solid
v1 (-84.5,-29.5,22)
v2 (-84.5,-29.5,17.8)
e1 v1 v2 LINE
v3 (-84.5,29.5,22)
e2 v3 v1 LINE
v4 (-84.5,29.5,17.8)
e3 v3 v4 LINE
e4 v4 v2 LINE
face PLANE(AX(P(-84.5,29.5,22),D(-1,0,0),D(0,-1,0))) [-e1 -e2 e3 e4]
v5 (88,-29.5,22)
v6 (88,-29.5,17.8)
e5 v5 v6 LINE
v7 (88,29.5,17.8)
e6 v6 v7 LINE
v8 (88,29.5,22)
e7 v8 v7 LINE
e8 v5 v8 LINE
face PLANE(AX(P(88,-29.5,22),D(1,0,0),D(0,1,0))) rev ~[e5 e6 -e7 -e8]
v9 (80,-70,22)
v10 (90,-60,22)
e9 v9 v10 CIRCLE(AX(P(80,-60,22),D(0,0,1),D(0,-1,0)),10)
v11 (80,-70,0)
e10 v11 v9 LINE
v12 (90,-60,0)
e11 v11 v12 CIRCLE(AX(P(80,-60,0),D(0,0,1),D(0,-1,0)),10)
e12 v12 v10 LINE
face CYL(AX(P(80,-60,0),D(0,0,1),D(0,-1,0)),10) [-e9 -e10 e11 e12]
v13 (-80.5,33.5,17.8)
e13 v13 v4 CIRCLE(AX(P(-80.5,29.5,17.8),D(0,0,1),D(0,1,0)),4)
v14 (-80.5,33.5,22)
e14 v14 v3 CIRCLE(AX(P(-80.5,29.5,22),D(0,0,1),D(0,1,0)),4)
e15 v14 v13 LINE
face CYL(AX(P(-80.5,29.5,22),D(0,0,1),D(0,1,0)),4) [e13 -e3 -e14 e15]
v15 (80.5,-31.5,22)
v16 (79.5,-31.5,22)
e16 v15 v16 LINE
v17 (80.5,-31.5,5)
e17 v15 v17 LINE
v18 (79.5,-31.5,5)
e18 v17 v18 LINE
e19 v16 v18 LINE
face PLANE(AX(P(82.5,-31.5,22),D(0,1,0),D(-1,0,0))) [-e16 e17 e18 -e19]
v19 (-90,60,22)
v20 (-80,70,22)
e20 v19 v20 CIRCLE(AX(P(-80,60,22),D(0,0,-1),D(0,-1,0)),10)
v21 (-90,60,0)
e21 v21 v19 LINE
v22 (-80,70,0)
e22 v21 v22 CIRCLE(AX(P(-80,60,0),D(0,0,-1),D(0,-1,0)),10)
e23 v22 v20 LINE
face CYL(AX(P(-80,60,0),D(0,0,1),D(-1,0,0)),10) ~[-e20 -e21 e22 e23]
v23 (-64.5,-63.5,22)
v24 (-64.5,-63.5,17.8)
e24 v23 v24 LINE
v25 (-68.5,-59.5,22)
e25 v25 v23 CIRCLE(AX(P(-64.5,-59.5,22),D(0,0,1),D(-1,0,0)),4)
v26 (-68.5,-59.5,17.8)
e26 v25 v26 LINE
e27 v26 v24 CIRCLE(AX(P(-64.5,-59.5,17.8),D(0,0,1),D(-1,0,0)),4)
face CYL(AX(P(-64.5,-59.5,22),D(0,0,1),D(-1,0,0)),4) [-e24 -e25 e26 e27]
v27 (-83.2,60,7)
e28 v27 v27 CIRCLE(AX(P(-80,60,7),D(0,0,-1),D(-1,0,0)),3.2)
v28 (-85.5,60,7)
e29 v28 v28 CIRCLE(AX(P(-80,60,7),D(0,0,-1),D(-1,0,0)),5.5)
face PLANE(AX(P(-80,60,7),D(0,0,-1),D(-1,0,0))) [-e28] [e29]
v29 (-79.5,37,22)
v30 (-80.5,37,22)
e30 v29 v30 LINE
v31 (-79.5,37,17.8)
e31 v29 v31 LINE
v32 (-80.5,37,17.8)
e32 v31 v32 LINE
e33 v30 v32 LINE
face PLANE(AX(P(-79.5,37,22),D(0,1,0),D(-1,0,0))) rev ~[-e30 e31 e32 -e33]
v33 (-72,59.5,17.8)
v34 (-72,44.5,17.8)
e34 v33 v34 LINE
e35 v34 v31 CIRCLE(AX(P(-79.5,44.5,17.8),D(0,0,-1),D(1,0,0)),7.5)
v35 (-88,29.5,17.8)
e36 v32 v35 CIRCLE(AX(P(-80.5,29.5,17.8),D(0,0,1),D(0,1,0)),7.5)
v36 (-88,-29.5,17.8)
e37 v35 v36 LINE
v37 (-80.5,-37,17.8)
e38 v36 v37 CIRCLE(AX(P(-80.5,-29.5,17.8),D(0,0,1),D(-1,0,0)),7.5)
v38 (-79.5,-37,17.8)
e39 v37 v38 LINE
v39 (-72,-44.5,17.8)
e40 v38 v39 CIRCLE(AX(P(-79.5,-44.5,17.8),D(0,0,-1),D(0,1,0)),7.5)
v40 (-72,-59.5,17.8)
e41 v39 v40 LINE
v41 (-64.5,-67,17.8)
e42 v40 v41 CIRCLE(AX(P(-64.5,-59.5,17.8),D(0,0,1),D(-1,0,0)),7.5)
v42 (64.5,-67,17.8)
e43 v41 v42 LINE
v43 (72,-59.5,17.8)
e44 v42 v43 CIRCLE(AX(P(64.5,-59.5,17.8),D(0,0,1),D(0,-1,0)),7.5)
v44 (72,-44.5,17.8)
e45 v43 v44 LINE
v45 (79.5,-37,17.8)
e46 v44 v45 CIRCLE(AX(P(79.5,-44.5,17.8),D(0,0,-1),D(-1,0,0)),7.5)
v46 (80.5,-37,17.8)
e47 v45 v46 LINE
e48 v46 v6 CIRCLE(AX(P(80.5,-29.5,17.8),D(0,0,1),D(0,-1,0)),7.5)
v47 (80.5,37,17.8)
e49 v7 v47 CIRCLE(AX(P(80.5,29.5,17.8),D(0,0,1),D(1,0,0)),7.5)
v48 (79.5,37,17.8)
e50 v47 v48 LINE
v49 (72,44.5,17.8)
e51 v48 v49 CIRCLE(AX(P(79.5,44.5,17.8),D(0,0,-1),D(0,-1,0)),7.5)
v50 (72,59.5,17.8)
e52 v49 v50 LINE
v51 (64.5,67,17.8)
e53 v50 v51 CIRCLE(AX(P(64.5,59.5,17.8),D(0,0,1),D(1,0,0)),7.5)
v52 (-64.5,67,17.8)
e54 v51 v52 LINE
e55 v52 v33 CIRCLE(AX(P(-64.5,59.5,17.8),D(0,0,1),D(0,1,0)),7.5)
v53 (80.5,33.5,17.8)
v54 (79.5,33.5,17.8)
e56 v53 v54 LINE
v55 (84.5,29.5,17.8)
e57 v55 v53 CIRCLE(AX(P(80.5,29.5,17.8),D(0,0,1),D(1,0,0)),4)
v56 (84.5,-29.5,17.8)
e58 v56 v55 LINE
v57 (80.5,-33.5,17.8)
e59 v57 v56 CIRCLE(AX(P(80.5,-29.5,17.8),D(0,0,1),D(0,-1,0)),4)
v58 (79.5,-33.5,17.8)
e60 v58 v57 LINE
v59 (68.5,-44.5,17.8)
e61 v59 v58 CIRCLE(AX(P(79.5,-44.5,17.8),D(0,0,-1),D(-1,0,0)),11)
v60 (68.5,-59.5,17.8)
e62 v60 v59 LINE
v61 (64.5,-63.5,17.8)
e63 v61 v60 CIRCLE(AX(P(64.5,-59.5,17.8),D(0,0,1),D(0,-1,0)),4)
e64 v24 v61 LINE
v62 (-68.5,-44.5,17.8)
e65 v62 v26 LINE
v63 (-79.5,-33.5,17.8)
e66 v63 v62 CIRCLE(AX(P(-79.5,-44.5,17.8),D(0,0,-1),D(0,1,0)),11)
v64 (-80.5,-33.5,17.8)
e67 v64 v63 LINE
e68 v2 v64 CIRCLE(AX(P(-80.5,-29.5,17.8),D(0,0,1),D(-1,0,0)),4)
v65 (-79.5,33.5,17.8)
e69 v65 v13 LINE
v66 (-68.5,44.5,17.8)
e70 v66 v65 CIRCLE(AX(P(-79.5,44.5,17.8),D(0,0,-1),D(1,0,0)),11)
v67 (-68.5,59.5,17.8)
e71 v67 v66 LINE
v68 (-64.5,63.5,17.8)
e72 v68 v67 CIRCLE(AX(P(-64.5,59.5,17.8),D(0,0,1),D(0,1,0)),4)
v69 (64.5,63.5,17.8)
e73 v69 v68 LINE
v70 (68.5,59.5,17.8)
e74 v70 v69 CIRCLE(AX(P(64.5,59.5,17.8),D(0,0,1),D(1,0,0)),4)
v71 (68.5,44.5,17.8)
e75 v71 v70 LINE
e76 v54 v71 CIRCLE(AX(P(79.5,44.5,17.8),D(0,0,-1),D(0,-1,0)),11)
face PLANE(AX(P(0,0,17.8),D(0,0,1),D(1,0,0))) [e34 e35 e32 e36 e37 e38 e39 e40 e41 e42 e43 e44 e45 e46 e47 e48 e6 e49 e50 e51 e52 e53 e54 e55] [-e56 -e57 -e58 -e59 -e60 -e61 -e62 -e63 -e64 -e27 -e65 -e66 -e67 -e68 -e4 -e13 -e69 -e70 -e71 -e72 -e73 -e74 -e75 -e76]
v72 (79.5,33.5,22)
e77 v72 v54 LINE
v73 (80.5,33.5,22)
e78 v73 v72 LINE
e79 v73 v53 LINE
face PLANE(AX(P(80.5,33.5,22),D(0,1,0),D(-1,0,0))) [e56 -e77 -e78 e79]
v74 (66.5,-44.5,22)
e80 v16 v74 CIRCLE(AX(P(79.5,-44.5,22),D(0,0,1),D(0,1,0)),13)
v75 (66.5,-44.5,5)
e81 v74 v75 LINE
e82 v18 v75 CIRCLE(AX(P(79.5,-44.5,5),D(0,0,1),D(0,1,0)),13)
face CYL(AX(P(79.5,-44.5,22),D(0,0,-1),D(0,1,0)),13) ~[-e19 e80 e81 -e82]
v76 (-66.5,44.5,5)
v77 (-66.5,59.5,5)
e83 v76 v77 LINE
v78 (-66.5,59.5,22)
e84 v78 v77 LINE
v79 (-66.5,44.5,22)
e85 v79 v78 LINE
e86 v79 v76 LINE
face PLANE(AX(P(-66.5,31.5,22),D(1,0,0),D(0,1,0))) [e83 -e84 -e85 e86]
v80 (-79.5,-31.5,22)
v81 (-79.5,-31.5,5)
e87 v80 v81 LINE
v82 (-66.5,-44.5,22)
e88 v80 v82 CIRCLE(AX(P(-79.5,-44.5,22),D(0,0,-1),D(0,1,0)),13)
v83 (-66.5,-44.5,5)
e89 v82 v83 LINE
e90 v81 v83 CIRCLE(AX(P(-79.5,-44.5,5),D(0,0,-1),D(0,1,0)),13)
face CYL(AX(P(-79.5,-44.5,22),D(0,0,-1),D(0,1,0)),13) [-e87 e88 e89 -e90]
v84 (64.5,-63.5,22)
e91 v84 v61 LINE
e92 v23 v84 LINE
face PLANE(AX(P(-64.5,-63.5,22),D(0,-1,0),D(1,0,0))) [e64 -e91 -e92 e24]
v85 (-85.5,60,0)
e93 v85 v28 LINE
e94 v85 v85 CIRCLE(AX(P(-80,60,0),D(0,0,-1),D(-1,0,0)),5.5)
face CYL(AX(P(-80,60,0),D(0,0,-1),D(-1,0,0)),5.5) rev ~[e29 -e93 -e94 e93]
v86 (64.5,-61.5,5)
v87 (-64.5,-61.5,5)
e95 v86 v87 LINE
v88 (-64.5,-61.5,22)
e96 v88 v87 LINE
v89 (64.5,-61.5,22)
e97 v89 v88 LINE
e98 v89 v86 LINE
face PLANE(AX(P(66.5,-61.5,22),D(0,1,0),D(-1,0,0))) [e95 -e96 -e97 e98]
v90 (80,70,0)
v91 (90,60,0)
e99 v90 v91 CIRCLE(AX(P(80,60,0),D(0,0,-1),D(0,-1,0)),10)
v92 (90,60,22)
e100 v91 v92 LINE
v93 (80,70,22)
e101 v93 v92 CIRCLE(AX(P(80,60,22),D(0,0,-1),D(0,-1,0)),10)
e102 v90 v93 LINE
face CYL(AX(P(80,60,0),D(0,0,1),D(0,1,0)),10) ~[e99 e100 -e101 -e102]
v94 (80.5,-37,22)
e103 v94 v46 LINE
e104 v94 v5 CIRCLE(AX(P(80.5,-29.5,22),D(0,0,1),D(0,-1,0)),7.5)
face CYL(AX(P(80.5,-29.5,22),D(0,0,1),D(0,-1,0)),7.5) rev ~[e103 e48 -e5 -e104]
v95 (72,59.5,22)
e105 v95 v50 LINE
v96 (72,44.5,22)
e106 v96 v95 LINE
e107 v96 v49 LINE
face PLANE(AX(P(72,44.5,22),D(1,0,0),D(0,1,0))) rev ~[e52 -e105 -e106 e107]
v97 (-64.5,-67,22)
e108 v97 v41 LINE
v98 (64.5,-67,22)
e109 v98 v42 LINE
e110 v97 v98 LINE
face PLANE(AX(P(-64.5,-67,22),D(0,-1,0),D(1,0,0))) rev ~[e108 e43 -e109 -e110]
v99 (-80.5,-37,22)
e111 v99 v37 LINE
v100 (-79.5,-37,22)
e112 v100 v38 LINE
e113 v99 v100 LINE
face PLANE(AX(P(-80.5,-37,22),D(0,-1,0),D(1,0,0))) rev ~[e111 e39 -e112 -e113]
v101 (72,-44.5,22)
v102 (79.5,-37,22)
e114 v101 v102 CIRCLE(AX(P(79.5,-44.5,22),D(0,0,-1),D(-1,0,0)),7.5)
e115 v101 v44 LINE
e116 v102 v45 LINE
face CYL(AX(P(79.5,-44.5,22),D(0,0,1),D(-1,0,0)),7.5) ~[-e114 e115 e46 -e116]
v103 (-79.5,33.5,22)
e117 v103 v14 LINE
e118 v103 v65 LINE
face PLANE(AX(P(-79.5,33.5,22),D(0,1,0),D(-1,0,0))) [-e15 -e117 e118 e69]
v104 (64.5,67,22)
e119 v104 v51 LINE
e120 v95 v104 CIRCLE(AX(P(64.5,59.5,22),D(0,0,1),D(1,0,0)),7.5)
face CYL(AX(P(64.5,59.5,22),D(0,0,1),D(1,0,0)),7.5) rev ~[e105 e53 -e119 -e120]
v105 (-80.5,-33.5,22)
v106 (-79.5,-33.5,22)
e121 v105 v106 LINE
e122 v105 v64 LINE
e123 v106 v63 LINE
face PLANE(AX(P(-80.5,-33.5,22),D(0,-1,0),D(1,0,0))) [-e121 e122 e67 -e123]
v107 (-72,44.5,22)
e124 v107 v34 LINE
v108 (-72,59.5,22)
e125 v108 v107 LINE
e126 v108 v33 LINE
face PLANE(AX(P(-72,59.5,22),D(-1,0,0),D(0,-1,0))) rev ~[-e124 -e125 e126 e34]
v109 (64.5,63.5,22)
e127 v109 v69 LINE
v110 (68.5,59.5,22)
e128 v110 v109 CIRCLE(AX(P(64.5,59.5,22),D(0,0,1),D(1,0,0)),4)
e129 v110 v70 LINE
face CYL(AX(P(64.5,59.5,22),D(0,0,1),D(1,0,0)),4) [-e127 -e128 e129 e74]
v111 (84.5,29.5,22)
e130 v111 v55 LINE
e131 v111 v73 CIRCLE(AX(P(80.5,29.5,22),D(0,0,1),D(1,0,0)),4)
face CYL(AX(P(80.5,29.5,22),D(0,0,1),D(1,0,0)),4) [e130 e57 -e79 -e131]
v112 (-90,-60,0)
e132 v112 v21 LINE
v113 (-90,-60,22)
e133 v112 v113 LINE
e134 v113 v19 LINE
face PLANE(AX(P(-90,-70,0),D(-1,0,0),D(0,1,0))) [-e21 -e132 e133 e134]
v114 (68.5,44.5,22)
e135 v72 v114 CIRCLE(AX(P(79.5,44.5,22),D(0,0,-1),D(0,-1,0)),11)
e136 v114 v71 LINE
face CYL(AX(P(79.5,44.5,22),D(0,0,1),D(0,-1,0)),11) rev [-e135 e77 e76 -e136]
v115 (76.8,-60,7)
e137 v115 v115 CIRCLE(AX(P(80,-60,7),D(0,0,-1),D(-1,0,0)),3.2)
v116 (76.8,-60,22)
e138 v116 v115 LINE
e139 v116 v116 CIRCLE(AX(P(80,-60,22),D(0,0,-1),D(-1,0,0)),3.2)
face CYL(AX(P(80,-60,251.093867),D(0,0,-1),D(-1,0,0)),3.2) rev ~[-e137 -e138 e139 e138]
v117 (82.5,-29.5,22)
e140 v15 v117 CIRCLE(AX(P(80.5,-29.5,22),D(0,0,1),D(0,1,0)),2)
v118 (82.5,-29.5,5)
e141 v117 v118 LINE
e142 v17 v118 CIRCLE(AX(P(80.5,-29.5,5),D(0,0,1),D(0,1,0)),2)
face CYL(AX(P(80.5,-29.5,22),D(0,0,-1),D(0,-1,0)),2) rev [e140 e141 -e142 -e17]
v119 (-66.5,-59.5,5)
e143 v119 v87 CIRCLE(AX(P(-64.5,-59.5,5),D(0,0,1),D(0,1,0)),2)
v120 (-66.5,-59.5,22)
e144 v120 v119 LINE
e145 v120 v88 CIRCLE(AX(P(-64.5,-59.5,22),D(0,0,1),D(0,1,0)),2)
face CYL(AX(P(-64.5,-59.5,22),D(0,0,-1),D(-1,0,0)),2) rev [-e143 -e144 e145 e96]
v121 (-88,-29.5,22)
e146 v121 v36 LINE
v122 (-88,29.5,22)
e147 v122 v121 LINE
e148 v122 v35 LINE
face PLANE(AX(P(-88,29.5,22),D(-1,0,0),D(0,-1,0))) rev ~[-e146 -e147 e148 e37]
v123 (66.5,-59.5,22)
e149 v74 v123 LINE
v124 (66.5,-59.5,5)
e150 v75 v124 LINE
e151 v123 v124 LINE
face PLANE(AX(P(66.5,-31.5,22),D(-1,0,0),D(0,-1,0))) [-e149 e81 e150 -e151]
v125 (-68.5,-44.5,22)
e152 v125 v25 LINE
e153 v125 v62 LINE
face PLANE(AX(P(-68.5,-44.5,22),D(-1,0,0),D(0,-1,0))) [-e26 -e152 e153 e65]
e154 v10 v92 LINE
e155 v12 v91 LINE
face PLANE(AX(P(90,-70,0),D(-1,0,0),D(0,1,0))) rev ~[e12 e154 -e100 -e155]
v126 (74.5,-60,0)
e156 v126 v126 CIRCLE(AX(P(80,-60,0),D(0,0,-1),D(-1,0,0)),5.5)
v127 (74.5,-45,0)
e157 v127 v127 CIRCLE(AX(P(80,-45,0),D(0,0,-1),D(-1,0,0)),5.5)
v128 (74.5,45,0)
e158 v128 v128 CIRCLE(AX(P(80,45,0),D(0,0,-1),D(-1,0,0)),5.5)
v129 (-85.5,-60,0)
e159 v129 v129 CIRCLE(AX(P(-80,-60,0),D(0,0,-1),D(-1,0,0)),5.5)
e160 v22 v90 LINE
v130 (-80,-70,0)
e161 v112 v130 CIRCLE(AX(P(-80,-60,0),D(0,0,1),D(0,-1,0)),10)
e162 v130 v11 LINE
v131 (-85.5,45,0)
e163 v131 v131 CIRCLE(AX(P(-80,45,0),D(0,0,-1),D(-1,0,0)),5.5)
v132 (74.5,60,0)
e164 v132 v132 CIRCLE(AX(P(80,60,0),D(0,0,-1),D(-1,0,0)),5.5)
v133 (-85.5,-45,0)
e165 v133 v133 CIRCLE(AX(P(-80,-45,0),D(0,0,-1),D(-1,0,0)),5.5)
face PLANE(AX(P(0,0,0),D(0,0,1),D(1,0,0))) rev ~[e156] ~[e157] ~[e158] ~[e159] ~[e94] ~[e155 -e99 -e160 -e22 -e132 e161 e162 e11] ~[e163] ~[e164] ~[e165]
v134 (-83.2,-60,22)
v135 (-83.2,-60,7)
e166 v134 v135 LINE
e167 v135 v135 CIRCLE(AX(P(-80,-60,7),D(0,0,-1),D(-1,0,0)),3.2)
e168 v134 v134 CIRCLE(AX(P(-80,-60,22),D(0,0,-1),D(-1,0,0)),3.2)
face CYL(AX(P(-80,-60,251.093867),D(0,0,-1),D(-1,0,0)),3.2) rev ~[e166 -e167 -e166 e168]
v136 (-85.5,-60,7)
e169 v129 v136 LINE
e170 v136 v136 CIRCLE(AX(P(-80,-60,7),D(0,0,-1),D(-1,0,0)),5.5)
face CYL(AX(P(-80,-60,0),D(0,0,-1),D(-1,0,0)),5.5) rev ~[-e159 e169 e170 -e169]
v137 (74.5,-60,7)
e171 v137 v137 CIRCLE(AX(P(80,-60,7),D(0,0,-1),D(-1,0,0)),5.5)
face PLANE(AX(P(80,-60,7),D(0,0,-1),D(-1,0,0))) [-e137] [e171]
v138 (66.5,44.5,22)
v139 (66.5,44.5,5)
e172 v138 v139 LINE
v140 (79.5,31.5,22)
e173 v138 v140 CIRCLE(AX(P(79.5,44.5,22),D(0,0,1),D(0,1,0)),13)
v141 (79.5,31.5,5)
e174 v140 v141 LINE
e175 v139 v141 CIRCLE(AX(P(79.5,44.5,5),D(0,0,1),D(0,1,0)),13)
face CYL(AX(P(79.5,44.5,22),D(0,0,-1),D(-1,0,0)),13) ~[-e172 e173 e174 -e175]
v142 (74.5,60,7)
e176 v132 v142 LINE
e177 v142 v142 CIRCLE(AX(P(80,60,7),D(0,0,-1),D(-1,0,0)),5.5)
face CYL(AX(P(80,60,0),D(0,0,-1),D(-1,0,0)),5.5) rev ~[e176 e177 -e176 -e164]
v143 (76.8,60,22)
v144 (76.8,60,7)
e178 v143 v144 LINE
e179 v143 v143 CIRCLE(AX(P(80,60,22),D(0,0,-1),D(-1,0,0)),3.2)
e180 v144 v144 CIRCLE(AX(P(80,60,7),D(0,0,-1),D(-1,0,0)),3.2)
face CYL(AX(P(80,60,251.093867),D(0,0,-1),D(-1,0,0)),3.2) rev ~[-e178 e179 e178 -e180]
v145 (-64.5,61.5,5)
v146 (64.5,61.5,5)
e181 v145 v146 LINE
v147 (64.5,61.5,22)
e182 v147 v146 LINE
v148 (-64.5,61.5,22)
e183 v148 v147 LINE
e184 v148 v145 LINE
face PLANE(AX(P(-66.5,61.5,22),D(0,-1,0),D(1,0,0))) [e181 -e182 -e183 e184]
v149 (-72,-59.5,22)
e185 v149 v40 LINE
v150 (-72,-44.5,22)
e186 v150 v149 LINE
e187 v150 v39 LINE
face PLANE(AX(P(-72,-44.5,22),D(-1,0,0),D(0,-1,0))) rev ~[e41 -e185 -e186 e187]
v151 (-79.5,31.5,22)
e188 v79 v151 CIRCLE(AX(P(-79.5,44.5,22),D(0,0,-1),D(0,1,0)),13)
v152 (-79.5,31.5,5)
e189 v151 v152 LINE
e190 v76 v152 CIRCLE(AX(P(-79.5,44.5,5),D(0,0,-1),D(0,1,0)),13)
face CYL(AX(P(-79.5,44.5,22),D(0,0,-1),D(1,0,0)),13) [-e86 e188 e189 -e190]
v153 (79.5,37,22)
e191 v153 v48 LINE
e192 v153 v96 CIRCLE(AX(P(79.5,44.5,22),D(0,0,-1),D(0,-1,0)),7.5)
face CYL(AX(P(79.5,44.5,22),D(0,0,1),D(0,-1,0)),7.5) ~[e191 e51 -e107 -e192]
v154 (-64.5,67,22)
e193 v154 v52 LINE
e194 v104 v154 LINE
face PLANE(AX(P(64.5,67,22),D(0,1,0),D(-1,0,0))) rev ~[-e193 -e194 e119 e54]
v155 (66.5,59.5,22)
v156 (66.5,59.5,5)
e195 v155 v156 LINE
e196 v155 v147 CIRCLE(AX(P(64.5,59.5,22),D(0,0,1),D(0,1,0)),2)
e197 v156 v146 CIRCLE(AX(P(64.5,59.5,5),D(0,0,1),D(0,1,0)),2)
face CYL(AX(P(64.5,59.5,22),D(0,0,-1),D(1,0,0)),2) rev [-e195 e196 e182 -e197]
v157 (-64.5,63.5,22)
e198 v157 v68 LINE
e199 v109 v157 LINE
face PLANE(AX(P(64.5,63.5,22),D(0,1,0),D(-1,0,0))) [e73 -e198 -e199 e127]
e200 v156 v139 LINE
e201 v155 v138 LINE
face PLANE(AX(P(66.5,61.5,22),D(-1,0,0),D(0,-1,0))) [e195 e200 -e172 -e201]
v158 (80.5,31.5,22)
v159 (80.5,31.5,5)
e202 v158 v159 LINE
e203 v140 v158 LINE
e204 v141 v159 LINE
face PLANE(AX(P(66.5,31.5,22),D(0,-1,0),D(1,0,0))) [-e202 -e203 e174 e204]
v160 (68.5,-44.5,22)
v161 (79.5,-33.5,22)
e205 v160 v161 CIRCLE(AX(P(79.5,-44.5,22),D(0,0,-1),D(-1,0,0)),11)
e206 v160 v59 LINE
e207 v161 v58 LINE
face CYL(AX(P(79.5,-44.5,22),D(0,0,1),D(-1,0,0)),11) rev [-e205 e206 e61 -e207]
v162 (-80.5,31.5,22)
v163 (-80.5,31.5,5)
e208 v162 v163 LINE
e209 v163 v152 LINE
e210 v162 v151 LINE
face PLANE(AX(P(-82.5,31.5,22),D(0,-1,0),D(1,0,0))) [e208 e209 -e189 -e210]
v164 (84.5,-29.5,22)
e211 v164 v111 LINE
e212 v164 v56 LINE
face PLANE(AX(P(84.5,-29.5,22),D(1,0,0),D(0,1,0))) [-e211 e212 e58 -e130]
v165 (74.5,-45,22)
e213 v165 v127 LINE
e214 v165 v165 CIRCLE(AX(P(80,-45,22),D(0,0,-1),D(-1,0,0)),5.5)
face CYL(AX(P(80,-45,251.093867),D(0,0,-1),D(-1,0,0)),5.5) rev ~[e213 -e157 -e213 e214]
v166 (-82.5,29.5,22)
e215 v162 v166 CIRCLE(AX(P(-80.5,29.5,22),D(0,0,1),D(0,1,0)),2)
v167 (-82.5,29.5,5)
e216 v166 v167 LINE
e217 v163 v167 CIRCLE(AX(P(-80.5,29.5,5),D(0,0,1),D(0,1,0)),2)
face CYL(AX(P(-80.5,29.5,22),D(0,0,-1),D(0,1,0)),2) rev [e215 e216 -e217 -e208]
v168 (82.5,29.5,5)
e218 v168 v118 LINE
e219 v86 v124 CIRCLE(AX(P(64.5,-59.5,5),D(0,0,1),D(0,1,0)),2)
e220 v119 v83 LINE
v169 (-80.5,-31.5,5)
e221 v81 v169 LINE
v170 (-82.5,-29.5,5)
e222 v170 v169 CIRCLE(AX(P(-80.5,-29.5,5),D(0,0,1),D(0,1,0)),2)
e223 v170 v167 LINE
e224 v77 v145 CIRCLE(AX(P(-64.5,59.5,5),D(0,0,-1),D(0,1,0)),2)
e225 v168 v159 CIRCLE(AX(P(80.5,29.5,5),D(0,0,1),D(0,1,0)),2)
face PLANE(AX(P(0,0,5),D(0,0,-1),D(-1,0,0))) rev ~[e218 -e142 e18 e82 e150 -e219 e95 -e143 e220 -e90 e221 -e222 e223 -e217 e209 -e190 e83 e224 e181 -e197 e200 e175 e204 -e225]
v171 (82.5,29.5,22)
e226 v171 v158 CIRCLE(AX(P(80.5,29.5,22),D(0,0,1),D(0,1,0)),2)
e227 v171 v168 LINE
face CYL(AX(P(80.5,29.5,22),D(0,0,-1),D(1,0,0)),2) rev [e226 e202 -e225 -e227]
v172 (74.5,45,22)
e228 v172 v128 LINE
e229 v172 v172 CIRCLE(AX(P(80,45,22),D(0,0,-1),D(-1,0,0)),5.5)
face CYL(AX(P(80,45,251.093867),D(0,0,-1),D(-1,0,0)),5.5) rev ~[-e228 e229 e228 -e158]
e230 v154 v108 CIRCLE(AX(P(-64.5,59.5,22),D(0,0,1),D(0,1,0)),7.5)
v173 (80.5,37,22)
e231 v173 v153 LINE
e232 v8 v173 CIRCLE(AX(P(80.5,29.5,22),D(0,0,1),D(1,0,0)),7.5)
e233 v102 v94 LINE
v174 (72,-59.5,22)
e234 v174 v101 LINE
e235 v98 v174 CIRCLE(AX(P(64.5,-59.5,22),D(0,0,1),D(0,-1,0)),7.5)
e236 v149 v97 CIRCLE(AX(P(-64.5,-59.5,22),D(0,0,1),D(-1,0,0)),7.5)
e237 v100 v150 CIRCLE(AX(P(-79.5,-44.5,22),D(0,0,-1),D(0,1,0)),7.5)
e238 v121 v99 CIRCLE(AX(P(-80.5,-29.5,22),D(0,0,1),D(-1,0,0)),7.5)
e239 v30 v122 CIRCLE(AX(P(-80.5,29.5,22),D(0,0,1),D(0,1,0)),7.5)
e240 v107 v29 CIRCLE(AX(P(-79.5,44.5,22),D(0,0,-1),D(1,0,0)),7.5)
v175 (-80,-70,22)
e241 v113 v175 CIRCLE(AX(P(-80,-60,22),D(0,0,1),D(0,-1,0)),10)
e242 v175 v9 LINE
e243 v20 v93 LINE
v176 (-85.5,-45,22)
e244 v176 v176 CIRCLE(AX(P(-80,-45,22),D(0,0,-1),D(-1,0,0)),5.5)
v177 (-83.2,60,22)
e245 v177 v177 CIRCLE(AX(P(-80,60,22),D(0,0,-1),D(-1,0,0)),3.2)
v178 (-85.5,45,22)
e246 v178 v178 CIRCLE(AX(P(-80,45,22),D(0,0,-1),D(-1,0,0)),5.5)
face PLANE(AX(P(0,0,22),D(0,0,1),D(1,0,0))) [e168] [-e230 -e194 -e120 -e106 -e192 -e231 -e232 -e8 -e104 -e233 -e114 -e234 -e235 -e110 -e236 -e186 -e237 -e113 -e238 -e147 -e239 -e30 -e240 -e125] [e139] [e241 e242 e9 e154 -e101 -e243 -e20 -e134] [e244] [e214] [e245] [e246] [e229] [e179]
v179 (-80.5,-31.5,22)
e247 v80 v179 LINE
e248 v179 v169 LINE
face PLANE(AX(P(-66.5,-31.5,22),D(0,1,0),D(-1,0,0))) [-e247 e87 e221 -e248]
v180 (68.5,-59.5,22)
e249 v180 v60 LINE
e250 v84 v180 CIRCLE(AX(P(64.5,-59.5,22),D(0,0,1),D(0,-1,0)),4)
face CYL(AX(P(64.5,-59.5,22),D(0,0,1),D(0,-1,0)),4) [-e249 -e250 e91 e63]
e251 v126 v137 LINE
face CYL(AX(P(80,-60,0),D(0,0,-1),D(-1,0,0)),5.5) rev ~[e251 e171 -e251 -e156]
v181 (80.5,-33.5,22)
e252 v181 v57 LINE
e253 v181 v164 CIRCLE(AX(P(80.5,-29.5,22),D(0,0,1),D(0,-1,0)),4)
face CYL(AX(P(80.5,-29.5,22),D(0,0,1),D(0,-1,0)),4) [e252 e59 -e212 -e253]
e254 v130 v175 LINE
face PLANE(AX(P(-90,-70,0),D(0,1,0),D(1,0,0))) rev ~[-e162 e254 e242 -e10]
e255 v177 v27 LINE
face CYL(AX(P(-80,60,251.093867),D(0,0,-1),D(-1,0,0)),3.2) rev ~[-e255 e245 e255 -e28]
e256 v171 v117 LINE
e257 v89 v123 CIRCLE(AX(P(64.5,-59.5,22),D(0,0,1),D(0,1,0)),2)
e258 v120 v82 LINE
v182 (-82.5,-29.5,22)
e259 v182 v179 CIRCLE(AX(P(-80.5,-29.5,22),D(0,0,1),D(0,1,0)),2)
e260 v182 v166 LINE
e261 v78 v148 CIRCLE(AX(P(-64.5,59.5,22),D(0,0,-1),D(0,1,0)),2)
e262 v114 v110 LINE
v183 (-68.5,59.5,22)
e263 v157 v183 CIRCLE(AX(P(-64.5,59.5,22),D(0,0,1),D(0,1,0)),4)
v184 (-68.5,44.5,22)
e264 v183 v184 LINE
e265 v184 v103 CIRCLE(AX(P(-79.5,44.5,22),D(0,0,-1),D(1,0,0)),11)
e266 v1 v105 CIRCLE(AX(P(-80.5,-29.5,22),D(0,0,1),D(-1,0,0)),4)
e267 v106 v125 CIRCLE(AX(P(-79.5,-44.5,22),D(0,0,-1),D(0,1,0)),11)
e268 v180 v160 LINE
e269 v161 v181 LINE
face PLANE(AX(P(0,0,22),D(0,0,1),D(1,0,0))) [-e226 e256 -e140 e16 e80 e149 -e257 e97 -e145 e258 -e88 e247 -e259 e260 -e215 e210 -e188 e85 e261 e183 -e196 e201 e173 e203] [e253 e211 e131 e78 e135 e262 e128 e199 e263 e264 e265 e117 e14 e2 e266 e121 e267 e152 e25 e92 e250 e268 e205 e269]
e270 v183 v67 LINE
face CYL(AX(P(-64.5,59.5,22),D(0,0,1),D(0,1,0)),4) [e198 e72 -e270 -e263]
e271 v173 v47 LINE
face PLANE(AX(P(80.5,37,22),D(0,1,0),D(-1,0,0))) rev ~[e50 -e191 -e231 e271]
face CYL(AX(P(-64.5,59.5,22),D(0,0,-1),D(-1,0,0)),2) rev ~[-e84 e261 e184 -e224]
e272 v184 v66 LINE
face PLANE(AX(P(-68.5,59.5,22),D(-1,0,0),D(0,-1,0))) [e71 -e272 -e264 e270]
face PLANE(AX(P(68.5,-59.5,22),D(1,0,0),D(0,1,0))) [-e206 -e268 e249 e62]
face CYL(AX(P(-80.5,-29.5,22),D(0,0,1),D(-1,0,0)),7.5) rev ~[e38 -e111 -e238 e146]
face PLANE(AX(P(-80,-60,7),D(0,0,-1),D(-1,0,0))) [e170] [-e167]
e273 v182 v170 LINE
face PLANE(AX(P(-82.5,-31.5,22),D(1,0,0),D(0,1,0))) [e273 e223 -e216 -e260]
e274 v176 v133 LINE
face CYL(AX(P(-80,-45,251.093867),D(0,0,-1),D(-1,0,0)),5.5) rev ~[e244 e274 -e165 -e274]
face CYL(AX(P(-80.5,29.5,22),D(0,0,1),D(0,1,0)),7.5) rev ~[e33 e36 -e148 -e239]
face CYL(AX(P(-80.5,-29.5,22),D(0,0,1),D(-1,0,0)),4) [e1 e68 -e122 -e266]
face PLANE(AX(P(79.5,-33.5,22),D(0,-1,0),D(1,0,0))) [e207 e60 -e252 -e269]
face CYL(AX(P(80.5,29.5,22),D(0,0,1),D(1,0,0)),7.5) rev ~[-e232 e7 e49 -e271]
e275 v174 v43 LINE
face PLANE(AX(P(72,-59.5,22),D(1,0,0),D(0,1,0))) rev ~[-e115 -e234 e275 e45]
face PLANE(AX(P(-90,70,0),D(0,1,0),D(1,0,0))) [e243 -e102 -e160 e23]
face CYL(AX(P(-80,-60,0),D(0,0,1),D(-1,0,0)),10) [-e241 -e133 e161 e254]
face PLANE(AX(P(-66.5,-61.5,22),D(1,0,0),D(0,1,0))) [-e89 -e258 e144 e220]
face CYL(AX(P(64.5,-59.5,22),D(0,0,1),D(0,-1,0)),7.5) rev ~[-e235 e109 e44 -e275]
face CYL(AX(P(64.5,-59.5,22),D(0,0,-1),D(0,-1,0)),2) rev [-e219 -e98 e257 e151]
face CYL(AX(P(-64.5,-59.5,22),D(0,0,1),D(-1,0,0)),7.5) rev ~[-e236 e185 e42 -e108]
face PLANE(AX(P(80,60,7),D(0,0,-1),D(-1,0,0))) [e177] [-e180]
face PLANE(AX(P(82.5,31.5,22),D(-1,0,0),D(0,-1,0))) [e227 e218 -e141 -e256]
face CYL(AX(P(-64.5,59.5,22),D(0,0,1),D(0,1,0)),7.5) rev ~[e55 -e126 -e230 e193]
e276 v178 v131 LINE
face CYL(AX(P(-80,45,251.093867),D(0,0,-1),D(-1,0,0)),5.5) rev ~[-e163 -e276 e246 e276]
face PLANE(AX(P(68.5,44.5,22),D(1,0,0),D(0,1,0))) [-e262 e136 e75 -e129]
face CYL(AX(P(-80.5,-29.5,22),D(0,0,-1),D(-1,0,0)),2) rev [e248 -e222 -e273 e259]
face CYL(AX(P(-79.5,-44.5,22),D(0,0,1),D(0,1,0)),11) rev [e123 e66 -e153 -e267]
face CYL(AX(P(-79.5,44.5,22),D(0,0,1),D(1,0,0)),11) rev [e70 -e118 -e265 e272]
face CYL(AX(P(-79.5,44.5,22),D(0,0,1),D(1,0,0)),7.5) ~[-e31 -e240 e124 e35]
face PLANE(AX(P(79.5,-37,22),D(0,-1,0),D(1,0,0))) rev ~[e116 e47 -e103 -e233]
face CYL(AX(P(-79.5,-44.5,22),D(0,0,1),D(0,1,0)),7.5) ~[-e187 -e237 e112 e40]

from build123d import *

# Parameters (mm, degrees)
SKETCH1_W                  = 180
SKETCH1_H                  = 140
BOSS_EXTRUDE1_DEPTH        = 22
CUT_EXTRUDE1_DEPTH         = 17
FILLET1_R                  = 2
FILLET2_R                  = 13
CUT_EXTRUDE2_DEPTH         = 4.2
FILLET3_R                  = 10
F_11_0_11_DIAMETER_HOLE1_D = 11
M6_CLEARANCE_HOLE1_D       = 6.4
SKETCH11_R                 = 5.5
CUT_EXTRUDE6_DEPTH         = 7


with BuildPart() as part:
    # Sketch1 → Boss-Extrude1 (new body)
    with BuildSketch(Plane.XY):
        Rectangle(SKETCH1_W, SKETCH1_H)
    extrude(amount=BOSS_EXTRUDE1_DEPTH)

    # Sketch2 → Cut-Extrude1 (cut)
    with BuildSketch(Plane.XY.offset(22)):
        Polygon((-66.5, 61.5), (66.5, 61.5), (66.5, 31.5), (82.5, 31.5), (82.5, -31.5), (66.5, -31.5), (66.5, -61.5), (-66.5, -61.5), (-66.5, -31.5), (-82.5, -31.5), (-82.5, 31.5), (-66.5, 31.5), align=None)
    extrude(amount=-CUT_EXTRUDE1_DEPTH, mode=Mode.SUBTRACT)

    # Fillet1
    fillet1_edges = [part.edges().sort_by_distance(p)[0] for p in [
        (-66.5, 61.5, 13.5),
        (66.5, 61.5, 13.5),
        (82.5, 31.5, 13.5),
        (82.5, -31.5, 13.5),
        (66.5, -61.5, 13.5),
        (-66.5, -61.5, 13.5),
        (-82.5, -31.5, 13.5),
        (-82.5, 31.5, 13.5),
    ]]
    fillet(fillet1_edges, radius=FILLET1_R)

    # Fillet2
    fillet2_edges = [part.edges().sort_by_distance(p)[0] for p in [
        (-66.5, 31.5, 13.5),
        (66.5, 31.5, 13.5),
        (66.5, -31.5, 13.5),
        (-66.5, -31.5, 13.5),
    ]]
    fillet(fillet2_edges, radius=FILLET2_R)

    # Sketch3 → Cut-Extrude2 (cut)
    with BuildSketch(Plane.XY.offset(22)):
        with BuildLine():
            Line((-72, 59.5), (-72, 44.5))
            ThreePointArc((-72, 44.5), (-74.196699141, 39.196699141), (-79.5, 37))
            Line((-79.5, 37), (-80.5, 37))
            ThreePointArc((-80.5, 37), (-85.803300859, 34.803300859), (-88, 29.5))
            Line((-88, 29.5), (-88, -29.5))
            ThreePointArc((-88, -29.5), (-85.803300859, -34.803300859), (-80.5, -37))
            Line((-80.5, -37), (-79.5, -37))
            ThreePointArc((-79.5, -37), (-74.196699141, -39.196699141), (-72, -44.5))
            Line((-72, -44.5), (-72, -59.5))
            ThreePointArc((-72, -59.5), (-69.803300859, -64.803300859), (-64.5, -67))
            Line((-64.5, -67), (64.5, -67))
            ThreePointArc((64.5, -67), (69.803300859, -64.803300859), (72, -59.5))
            Line((72, -59.5), (72, -44.5))
            ThreePointArc((72, -44.5), (74.196699141, -39.196699141), (79.5, -37))
            Line((79.5, -37), (80.5, -37))
            ThreePointArc((80.5, -37), (85.803300859, -34.803300859), (88, -29.5))
            Line((88, -29.5), (88, 29.5))
            ThreePointArc((88, 29.5), (85.803300859, 34.803300859), (80.5, 37))
            Line((80.5, 37), (79.5, 37))
            ThreePointArc((79.5, 37), (74.196699141, 39.196699141), (72, 44.5))
            Line((72, 44.5), (72, 59.5))
            ThreePointArc((72, 59.5), (69.803300859, 64.803300859), (64.5, 67))
            Line((64.5, 67), (-64.5, 67))
            ThreePointArc((-64.5, 67), (-69.803300859, 64.803300859), (-72, 59.5))
        make_face()
        with BuildLine():
            Line((-80.5, -33.5), (-79.5, -33.5))
            ThreePointArc((-79.5, -33.5), (-71.721825407, -36.721825407), (-68.5, -44.5))
            Line((-68.5, -44.5), (-68.5, -59.5))
            ThreePointArc((-68.5, -59.5), (-67.328427125, -62.328427125), (-64.5, -63.5))
            Line((-64.5, -63.5), (64.5, -63.5))
            ThreePointArc((64.5, -63.5), (67.328427125, -62.328427125), (68.5, -59.5))
            Line((68.5, -59.5), (68.5, -44.5))
            ThreePointArc((68.5, -44.5), (71.721825407, -36.721825407), (79.5, -33.5))
            Line((79.5, -33.5), (80.5, -33.5))
            ThreePointArc((80.5, -33.5), (83.328427125, -32.328427125), (84.5, -29.5))
            Line((84.5, -29.5), (84.5, 29.5))
            ThreePointArc((84.5, 29.5), (83.328427125, 32.328427125), (80.5, 33.5))
            Line((80.5, 33.5), (79.5, 33.5))
            ThreePointArc((79.5, 33.5), (71.721825407, 36.721825407), (68.5, 44.5))
            Line((68.5, 44.5), (68.5, 59.5))
            ThreePointArc((68.5, 59.5), (67.328427125, 62.328427125), (64.5, 63.5))
            Line((64.5, 63.5), (-64.5, 63.5))
            ThreePointArc((-64.5, 63.5), (-67.328427125, 62.328427125), (-68.5, 59.5))
            Line((-68.5, 59.5), (-68.5, 44.5))
            ThreePointArc((-68.5, 44.5), (-71.721825407, 36.721825407), (-79.5, 33.5))
            Line((-79.5, 33.5), (-80.5, 33.5))
            ThreePointArc((-80.5, 33.5), (-83.328427125, 32.328427125), (-84.5, 29.5))
            Line((-84.5, 29.5), (-84.5, -29.5))
            ThreePointArc((-84.5, -29.5), (-83.328427125, -32.328427125), (-80.5, -33.5))
        make_face(mode=Mode.SUBTRACT)
    extrude(amount=-CUT_EXTRUDE2_DEPTH, mode=Mode.SUBTRACT)

    # Fillet3
    fillet3_edges = [part.edges().sort_by_distance(p)[0] for p in [
        (-90, 70, 11),
        (90, 70, 11),
        (90, -70, 11),
        (-90, -70, 11),
    ]]
    fillet(fillet3_edges, radius=FILLET3_R)

    # Ø11.0 (11) Diameter Hole1 (through all)
    with Locations(Plane.XY.offset(22)):
        with Locations((-80, 45), (-80, -45), (80, -45), (80, 45)):
            Hole(F_11_0_11_DIAMETER_HOLE1_D / 2)

    # M6 Clearance Hole1 (through all)
    with Locations(Plane.XY.offset(22)):
        with Locations((-80, 60), (-80, -60), (80, -60), (80, 60)):
            Hole(M6_CLEARANCE_HOLE1_D / 2)

    # Sketch11 → Cut-Extrude6 (cut)
    with BuildSketch(Plane(origin=(0, 0, 0), x_dir=(-1, 0, 0), z_dir=(0, 0, -1))):
        with Locations((-80, 60)):
            Circle(SKETCH11_R)
        with Locations((-80, -60)):
            Circle(SKETCH11_R)
        with Locations((80, -60)):
            Circle(SKETCH11_R)
        with Locations((80, 60)):
            Circle(SKETCH11_R)
    extrude(amount=-CUT_EXTRUDE6_DEPTH, mode=Mode.SUBTRACT)


solid = part.part
